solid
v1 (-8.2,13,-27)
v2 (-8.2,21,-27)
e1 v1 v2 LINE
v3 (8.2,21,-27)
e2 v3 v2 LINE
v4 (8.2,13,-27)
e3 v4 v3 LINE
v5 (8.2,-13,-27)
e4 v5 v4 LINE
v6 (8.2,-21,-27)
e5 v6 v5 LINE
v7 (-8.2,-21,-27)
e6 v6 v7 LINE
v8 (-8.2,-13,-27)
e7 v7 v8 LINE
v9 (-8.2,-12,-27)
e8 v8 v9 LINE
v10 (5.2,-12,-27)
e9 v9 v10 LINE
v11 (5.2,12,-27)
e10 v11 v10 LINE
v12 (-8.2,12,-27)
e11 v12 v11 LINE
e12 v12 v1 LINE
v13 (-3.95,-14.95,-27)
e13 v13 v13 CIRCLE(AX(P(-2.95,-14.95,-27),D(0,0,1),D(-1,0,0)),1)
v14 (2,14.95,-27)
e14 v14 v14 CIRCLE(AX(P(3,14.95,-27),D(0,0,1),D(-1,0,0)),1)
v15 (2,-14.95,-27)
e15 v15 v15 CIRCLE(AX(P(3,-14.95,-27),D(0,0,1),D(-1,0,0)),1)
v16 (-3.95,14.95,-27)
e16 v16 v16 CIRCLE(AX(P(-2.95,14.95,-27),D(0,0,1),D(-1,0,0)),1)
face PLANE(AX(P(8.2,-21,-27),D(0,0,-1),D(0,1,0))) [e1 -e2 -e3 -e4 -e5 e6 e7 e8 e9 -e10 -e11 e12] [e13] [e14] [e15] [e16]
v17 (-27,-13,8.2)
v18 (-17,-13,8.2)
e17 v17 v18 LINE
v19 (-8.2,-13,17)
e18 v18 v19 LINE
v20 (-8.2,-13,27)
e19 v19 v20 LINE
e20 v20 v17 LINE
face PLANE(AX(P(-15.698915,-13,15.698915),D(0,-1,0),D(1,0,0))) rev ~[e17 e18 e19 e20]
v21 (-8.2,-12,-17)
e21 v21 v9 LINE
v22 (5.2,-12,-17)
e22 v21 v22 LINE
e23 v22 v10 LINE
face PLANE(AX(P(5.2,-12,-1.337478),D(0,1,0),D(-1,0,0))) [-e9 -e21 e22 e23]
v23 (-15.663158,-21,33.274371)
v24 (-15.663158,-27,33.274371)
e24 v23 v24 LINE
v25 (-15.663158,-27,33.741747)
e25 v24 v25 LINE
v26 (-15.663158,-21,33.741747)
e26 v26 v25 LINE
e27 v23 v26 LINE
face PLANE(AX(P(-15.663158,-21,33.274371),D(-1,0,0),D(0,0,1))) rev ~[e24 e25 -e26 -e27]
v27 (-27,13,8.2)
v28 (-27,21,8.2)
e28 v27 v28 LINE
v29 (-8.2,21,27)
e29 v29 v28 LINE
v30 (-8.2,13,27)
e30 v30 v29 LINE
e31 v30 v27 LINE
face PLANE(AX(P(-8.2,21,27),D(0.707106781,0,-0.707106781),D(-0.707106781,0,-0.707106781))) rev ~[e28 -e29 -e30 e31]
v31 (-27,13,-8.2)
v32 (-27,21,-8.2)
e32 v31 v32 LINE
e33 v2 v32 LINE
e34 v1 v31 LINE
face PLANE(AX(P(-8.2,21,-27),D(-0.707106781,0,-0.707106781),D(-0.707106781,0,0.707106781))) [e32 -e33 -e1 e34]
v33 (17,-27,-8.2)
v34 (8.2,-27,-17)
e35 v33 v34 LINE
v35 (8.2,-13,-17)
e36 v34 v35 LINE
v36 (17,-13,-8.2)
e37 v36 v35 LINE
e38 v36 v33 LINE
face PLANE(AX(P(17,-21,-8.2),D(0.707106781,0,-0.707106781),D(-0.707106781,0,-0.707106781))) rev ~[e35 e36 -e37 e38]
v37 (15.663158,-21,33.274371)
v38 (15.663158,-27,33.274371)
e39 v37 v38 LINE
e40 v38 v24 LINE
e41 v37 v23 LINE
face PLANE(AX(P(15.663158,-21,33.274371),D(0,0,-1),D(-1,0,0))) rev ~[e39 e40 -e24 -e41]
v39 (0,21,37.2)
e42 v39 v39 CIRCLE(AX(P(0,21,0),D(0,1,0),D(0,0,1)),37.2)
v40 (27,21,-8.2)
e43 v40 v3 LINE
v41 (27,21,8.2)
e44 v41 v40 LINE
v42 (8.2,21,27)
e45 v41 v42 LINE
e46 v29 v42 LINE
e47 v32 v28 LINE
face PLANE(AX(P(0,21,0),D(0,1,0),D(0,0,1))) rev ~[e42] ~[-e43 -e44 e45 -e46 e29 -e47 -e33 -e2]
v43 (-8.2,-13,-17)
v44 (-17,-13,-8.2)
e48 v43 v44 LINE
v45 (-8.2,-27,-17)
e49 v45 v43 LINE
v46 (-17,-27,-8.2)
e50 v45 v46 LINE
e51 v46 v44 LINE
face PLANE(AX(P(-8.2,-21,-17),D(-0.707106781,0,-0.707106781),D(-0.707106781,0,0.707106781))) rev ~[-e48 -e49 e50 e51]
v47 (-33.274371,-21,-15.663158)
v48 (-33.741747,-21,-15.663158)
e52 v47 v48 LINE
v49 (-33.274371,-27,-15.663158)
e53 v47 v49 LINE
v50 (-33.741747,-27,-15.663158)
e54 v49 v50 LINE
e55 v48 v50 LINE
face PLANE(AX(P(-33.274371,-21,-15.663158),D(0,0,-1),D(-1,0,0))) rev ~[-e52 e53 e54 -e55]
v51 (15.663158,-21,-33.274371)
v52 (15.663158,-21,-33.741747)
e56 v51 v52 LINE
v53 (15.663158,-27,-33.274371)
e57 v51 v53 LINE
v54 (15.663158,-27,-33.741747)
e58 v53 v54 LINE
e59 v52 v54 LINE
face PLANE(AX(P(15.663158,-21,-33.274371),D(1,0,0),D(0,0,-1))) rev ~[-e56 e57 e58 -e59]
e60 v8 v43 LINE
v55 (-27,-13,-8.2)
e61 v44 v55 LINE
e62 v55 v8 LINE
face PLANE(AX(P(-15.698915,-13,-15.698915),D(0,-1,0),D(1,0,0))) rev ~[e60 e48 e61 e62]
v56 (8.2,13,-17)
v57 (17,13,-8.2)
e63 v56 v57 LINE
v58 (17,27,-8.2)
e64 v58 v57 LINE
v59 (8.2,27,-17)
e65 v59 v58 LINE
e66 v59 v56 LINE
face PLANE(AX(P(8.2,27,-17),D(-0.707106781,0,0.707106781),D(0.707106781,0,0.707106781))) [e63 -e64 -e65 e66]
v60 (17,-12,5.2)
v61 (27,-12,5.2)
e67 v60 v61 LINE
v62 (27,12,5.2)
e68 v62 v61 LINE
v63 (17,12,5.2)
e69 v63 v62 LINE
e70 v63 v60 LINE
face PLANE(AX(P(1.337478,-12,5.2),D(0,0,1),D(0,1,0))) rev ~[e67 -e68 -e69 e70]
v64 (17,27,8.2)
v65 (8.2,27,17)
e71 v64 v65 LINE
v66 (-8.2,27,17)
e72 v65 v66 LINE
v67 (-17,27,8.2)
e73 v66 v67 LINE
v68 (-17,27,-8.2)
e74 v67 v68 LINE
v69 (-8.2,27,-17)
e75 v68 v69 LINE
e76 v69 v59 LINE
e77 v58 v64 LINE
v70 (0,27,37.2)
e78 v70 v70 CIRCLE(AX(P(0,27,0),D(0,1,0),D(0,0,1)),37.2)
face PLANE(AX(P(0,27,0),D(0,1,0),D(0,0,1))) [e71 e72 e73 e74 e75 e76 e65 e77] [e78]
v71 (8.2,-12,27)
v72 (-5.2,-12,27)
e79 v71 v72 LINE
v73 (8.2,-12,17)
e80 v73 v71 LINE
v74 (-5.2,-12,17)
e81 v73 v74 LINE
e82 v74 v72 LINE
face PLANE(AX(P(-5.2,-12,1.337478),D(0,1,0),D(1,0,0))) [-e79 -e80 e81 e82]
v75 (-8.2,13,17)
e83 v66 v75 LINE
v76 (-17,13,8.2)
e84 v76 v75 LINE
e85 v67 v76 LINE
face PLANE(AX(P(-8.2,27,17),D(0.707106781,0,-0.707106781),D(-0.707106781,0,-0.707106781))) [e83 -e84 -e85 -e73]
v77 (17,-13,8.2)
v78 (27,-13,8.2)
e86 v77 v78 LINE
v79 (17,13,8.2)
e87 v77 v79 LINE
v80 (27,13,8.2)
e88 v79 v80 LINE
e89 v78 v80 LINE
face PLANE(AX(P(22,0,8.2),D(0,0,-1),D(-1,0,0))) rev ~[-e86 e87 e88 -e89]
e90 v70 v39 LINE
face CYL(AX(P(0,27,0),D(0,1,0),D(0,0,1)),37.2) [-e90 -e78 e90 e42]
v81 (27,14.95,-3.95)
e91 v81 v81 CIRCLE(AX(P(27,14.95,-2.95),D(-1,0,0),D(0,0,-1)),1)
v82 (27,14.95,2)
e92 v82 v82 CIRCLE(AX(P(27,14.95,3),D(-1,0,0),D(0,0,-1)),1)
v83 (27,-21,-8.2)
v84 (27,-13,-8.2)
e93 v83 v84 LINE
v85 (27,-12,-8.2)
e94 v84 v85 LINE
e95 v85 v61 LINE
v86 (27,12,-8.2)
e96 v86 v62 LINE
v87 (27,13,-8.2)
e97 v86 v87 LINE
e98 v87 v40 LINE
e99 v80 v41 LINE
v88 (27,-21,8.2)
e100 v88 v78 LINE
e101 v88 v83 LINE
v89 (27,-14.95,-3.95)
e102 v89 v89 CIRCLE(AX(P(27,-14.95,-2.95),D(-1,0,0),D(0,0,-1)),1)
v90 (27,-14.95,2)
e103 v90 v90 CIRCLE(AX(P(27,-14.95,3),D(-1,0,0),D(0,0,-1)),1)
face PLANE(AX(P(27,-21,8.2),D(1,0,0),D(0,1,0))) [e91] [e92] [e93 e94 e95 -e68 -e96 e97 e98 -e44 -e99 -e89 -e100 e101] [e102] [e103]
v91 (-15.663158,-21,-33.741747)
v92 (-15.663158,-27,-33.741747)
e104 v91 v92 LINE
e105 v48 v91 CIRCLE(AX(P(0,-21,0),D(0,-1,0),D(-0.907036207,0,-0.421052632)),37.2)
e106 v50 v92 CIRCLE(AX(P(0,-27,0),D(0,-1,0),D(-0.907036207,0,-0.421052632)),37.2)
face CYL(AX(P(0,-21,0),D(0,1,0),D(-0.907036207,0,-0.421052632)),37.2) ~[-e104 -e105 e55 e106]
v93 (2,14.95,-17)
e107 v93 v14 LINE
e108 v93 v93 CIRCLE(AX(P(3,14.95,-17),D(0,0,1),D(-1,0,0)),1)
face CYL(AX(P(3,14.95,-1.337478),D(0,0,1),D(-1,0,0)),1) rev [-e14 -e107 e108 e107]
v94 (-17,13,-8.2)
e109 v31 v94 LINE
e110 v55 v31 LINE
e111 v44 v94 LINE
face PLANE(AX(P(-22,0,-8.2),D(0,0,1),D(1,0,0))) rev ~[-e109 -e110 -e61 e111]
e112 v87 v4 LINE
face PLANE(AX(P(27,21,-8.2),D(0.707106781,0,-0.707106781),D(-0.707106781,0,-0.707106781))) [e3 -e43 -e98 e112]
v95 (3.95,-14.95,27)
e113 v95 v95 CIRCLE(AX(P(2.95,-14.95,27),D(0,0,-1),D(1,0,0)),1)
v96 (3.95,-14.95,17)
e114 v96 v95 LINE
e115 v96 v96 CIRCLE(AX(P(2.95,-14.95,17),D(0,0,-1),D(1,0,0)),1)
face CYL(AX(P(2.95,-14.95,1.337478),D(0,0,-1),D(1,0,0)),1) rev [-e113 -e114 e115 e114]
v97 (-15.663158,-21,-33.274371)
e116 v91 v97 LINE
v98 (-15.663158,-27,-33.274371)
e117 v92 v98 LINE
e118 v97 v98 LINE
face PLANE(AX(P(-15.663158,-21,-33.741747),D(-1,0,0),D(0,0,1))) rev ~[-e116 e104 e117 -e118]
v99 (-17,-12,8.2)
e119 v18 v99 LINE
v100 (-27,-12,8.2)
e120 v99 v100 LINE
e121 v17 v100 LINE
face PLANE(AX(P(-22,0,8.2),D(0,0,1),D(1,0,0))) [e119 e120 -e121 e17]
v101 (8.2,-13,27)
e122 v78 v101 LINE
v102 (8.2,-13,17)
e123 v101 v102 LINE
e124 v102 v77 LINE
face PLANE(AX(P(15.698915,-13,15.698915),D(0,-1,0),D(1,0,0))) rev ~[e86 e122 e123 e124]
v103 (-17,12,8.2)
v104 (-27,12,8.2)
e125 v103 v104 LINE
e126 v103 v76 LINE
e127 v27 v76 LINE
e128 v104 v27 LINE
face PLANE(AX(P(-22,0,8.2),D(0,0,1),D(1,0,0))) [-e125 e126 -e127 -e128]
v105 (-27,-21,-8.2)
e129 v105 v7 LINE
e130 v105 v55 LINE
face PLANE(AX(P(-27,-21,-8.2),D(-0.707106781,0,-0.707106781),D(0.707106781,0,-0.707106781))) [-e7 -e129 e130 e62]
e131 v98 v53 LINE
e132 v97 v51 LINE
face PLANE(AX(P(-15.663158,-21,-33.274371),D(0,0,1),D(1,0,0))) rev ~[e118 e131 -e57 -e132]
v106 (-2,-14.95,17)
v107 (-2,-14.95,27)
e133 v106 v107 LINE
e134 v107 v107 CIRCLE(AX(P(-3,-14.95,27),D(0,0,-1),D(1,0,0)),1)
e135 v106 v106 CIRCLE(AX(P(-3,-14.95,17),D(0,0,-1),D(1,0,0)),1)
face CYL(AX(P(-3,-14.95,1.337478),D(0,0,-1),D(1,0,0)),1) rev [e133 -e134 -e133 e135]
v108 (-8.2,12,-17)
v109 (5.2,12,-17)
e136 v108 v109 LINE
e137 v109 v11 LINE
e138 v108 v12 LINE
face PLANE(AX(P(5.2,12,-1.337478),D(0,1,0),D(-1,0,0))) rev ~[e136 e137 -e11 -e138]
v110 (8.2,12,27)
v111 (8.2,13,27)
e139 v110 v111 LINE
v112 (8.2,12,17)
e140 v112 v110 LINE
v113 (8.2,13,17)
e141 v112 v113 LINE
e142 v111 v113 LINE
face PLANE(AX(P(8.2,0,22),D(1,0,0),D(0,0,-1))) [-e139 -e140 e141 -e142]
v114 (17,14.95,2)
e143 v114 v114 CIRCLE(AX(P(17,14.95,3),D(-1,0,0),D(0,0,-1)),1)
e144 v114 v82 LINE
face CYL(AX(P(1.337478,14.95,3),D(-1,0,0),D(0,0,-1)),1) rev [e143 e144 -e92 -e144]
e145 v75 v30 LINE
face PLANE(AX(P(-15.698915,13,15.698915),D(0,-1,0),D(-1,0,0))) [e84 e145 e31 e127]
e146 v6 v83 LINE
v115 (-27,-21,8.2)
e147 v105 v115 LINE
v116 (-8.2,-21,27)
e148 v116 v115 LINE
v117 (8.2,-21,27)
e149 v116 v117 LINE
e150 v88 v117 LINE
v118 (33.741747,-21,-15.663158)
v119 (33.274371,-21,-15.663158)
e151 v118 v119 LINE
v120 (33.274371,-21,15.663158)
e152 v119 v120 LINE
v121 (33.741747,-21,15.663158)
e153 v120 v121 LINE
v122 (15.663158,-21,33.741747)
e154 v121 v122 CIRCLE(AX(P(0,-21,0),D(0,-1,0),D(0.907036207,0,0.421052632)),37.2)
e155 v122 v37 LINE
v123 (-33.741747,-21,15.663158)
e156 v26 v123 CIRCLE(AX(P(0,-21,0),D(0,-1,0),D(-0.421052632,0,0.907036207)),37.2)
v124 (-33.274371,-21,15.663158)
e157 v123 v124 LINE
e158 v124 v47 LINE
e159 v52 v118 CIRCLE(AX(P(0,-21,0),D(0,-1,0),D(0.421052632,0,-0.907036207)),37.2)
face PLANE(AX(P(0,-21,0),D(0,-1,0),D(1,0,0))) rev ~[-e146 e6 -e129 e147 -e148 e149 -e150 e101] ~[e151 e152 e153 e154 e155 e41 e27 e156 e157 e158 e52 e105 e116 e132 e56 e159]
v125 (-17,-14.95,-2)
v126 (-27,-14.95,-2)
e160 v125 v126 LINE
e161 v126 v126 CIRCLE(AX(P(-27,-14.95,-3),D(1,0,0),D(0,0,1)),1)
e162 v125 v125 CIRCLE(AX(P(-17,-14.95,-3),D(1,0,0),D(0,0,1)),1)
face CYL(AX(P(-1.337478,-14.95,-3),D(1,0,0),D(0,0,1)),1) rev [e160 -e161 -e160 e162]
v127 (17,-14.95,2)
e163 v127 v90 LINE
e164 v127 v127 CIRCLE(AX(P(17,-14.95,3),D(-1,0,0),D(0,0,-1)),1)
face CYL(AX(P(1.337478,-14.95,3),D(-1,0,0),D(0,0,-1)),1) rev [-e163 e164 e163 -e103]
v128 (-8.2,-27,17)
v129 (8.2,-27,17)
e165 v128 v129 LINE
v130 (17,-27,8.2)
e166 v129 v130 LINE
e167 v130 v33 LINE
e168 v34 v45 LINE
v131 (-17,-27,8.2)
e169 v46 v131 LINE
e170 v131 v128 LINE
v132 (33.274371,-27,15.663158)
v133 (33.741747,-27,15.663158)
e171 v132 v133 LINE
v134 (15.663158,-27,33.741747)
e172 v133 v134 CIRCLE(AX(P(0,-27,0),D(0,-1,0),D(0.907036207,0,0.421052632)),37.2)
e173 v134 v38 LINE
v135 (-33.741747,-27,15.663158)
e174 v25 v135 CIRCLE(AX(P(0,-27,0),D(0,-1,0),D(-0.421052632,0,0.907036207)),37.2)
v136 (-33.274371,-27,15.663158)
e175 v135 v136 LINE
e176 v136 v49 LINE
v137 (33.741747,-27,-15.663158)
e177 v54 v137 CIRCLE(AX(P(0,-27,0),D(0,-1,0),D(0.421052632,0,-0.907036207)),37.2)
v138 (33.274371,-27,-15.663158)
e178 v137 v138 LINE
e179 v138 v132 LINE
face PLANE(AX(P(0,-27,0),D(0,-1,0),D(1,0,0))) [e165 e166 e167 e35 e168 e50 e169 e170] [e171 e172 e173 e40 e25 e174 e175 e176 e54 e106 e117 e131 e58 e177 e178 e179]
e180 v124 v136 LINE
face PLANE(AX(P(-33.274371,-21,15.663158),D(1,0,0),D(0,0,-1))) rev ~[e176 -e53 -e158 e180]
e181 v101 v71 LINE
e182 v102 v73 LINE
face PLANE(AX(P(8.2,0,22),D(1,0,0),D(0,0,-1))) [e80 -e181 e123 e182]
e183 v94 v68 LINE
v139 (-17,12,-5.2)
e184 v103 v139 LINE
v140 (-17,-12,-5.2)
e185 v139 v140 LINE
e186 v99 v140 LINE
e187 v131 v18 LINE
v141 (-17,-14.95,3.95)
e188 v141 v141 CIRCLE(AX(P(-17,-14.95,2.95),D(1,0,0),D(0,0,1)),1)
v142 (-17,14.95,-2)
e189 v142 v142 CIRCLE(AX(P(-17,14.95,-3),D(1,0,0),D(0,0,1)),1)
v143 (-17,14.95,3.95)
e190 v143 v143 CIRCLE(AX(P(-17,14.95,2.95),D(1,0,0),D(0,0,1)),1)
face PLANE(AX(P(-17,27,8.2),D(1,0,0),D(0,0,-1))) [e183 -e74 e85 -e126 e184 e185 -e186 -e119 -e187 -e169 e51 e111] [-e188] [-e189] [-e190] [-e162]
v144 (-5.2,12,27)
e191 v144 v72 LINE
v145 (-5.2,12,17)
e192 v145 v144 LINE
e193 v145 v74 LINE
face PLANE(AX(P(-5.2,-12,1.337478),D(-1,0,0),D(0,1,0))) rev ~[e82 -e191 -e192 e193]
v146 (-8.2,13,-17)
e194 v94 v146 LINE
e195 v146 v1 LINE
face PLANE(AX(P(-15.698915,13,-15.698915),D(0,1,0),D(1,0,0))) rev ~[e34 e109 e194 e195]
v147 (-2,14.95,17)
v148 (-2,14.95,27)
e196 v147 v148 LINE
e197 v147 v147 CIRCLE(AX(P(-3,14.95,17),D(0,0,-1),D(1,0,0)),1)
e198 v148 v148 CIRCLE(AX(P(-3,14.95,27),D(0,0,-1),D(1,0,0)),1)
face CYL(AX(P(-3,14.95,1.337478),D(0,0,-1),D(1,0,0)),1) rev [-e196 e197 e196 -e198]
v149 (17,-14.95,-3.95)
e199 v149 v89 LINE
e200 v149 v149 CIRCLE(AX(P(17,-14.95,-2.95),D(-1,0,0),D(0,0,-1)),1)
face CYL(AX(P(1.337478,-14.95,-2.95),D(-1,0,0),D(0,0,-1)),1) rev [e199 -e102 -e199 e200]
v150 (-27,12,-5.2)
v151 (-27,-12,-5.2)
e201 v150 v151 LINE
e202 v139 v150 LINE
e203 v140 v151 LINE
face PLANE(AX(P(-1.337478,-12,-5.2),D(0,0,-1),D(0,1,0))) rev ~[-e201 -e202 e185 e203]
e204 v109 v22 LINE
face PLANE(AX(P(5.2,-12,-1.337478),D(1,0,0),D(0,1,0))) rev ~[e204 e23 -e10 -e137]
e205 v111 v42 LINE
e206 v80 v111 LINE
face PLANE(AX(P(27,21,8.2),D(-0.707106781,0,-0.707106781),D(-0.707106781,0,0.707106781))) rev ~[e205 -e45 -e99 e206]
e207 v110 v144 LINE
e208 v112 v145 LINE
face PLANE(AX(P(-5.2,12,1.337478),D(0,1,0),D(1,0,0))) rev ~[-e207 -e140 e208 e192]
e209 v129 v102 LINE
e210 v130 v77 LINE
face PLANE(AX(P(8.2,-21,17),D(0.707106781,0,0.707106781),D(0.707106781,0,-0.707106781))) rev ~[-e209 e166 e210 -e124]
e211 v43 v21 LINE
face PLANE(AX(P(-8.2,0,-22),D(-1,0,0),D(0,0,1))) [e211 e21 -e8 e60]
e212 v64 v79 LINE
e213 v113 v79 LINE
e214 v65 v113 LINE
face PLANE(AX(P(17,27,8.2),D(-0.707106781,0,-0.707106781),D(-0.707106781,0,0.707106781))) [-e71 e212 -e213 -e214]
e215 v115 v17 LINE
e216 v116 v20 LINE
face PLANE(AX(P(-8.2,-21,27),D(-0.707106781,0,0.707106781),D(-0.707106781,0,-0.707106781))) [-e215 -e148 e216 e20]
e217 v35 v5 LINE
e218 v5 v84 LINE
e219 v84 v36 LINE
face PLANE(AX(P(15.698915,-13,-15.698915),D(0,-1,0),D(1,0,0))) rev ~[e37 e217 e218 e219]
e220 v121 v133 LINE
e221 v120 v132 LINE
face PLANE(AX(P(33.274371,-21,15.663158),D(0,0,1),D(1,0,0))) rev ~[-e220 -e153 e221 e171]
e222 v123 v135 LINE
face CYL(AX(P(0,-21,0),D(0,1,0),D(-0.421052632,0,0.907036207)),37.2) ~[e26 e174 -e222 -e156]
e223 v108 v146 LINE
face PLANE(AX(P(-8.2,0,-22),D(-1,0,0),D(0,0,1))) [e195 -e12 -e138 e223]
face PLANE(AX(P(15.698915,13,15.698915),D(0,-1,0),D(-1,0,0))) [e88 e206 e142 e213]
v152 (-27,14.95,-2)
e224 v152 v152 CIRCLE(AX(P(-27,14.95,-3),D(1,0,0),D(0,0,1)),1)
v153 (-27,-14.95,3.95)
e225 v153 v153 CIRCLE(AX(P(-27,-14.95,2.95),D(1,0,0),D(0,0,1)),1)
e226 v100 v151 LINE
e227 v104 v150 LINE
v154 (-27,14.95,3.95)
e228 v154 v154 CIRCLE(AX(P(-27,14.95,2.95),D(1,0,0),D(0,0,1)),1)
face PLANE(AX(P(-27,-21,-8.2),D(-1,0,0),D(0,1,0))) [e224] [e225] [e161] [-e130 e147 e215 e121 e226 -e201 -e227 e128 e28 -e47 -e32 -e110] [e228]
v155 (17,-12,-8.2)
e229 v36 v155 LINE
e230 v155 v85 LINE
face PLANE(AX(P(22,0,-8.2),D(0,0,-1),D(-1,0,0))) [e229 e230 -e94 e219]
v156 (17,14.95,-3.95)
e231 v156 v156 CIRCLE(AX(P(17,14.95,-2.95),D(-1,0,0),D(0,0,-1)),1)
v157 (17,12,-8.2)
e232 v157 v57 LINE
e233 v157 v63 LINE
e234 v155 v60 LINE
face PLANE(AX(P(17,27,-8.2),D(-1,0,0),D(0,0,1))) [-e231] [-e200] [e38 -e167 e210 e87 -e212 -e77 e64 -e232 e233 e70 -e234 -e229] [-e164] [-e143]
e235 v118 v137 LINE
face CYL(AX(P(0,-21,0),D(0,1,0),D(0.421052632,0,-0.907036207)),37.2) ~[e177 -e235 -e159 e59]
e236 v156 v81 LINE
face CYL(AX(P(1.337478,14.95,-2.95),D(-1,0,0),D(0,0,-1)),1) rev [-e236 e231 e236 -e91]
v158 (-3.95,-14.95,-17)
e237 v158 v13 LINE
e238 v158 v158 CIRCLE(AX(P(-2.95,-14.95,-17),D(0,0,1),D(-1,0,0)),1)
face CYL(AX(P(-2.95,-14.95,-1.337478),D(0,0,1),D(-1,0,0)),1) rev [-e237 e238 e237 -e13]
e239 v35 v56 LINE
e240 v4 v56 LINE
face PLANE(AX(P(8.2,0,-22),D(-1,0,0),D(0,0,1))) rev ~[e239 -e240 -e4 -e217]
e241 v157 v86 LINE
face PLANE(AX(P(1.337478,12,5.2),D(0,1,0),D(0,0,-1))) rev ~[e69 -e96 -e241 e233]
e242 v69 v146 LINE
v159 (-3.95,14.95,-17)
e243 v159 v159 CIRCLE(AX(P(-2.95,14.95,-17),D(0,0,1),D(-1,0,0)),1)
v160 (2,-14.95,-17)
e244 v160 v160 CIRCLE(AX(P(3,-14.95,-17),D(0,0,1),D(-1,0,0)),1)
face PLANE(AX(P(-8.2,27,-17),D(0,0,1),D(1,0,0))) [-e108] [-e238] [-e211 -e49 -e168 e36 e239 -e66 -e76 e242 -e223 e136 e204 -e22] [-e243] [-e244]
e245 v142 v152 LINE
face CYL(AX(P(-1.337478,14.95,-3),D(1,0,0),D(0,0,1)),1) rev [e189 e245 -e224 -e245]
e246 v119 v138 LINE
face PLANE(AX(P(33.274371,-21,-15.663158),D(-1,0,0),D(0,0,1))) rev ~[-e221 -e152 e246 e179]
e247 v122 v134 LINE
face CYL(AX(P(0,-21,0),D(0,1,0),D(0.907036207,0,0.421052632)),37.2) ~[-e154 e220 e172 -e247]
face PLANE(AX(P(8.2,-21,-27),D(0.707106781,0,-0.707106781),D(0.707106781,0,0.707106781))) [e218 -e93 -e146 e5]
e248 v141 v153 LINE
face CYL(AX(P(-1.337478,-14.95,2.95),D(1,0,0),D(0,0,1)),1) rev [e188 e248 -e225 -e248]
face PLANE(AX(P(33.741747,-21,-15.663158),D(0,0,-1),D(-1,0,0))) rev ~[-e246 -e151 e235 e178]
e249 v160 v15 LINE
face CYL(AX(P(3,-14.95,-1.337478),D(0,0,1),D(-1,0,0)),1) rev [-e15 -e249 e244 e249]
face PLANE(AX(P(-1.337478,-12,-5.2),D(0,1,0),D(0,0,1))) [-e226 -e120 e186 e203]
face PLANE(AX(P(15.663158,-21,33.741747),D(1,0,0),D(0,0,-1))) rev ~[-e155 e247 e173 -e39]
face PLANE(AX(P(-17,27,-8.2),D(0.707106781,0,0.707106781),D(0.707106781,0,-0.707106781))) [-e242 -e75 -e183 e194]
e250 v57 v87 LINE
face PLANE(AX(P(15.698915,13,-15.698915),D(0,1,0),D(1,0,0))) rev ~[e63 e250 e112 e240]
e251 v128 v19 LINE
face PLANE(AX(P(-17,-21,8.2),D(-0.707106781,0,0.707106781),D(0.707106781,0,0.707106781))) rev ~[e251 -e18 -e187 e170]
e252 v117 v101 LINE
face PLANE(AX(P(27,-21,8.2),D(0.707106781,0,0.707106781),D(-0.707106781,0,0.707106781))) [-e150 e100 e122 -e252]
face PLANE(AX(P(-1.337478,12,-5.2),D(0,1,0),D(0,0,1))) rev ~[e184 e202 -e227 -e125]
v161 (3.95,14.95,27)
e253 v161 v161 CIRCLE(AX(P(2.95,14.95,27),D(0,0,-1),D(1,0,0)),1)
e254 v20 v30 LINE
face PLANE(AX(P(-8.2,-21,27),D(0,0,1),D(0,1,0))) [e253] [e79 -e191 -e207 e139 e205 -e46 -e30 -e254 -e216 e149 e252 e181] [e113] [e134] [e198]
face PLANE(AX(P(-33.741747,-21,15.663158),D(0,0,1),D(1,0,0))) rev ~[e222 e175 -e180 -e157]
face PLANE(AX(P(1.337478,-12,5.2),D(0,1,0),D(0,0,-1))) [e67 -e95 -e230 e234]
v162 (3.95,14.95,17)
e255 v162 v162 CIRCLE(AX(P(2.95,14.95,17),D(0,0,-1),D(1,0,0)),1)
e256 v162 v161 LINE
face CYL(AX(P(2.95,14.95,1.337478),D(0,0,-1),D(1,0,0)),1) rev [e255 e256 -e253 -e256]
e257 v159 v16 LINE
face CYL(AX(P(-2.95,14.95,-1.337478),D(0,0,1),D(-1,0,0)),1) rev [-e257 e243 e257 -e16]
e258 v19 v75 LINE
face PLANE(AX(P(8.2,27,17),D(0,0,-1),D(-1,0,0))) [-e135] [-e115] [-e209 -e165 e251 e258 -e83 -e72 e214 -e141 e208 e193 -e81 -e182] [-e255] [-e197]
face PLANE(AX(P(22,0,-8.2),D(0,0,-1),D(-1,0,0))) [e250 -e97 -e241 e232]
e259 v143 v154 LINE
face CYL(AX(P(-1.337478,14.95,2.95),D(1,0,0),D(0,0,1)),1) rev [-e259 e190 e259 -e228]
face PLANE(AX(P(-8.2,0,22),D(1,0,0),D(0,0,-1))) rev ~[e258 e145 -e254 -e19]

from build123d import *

# Parameters (mm, degrees)
BOSS_EXTRUDE1_DEPTH      = 8.2
BOSS_EXTRUDE1_DEPTH_BACK = 8.2
SKETCH2_W                = 10
SKETCH2_H                = 42
CUT_EXTRUDE1_DEPTH       = 25.662522174
CUT_EXTRUDE1_DEPTH_BACK  = 25.662522174
SKETCH4_R                = 1
SKETCH4_W                = 13.4
SKETCH4_H                = 24
CIRPATTERN1_COUNT        = 4
BOSS_EXTRUDE2_DEPTH      = 8
BOSS_EXTRUDE3_DEPTH      = 8
BOSS_EXTRUDE4_DEPTH      = 6
BOSS_EXTRUDE5_START      = 6
SKETCH23_R               = 37.2
BOSS_EXTRUDE5_DEPTH      = 6


with BuildPart() as part:
    # Sketch2 → Boss-Extrude1 (new, two sides: drawn at the far end of the back side and taken through both)
    with BuildSketch(Plane(origin=(0, 0, 0), x_dir=(0, 0, -1), z_dir=(1, 0, 0)).offset(-BOSS_EXTRUDE1_DEPTH_BACK)):
        with Locations((-22, 0)):
            Rectangle(SKETCH2_W, SKETCH2_H)
    extrude(amount=BOSS_EXTRUDE1_DEPTH + BOSS_EXTRUDE1_DEPTH_BACK)

    # Sketch4 → Cut-Extrude1 (cut, two sides: drawn at the far end of the back side and taken through both)
    with BuildSketch(Plane.XY.offset(27).offset(-CUT_EXTRUDE1_DEPTH_BACK)):
        with Locations((-3, 14.95)):
            Circle(SKETCH4_R)
        with Locations((2.95, 14.95)):
            Circle(SKETCH4_R)
        with Locations((-3, -14.95)):
            Circle(SKETCH4_R)
        with Locations((2.95, -14.95)):
            Circle(SKETCH4_R)
        with Locations((1.5, 0)):
            Rectangle(SKETCH4_W, SKETCH4_H)
    extrude(amount=CUT_EXTRUDE1_DEPTH + CUT_EXTRUDE1_DEPTH_BACK, mode=Mode.SUBTRACT)


with BuildPart() as cirpattern1_1:
    # CirPattern1: pattern copy
    add(part.part.rotate(Axis((0, 12.69022869, 0), (0, -1, 0)), 1 * 360 / CIRPATTERN1_COUNT))


with BuildPart() as cirpattern1_2:
    # CirPattern1: pattern copy
    add(part.part.rotate(Axis((0, 12.69022869, 0), (0, -1, 0)), 2 * 360 / CIRPATTERN1_COUNT))


with BuildPart() as cirpattern1_3:
    # CirPattern1: pattern copy
    add(part.part.rotate(Axis((0, 12.69022869, 0), (0, -1, 0)), 3 * 360 / CIRPATTERN1_COUNT))


with BuildPart() as part_1:
    add(part.part)

    add(cirpattern1_1.part)  # Boss-Extrude2 merges CirPattern1_1

    add(cirpattern1_2.part)  # Boss-Extrude2 merges CirPattern1_2

    add(cirpattern1_3.part)  # Boss-Extrude2 merges CirPattern1_3
    # Sketch20 → Boss-Extrude2 (add)
    with BuildSketch(Plane(origin=(0, 21, 0), x_dir=(1, 0, 0), z_dir=(0, 1, 0))):
        Polygon((-17, 8.2), (-8.2, 17), (-8.2, 27), (-27, 8.2), align=None)
        Polygon((-17, -8.2), (-8.2, -17), (-8.2, -27), (-27, -8.2), align=None)
        Polygon((8.2, -17), (17, -8.2), (27, -8.2), (8.2, -27), align=None)
        Polygon((8.2, 17), (17, 8.2), (27, 8.2), (8.2, 27), align=None)
    extrude(amount=-BOSS_EXTRUDE2_DEPTH)

    # Sketch21 → Boss-Extrude3 (add)
    with BuildSketch(Plane.XZ.offset(21)):
        Polygon((-17, 8.2), (-8.2, 17), (-8.2, 27), (-27, 8.2), align=None)
        Polygon((17, -8.2), (8.2, -17), (8.2, -27), (27, -8.2), align=None)
        Polygon((-8.2, -17), (-17, -8.2), (-27, -8.2), (-8.2, -27), align=None)
        Polygon((8.2, 17), (17, 8.2), (27, 8.2), (8.2, 27), align=None)
    extrude(amount=-BOSS_EXTRUDE3_DEPTH)

    # Sketch22 → Boss-Extrude4 (add)
    with BuildSketch(Plane.XZ.offset(21)):
        with BuildLine():
            ThreePointArc((-15.663157895, 33.741746913), (-26.30437226, 26.30437226), (-33.741746913, 15.663157895))
            Line((-33.741746913, 15.663157895), (-33.274371034, 15.663157895))
            Line((-33.274371034, 15.663157895), (-33.274371034, -15.663157895))
            Line((-33.274371034, -15.663157895), (-33.741746913, -15.663157895))
            ThreePointArc((-33.741746913, -15.663157895), (-26.30437226, -26.30437226), (-15.663157895, -33.741746913))
            Line((-15.663157895, -33.741746913), (-15.663157895, -33.274371034))
            Line((-15.663157895, -33.274371034), (15.663157895, -33.274371034))
            Line((15.663157895, -33.274371034), (15.663157895, -33.741746913))
            ThreePointArc((15.663157895, -33.741746913), (26.30437226, -26.30437226), (33.741746913, -15.663157895))
            Line((33.741746913, -15.663157895), (33.274371034, -15.663157895))
            Line((33.274371034, -15.663157895), (33.274371034, 15.663157895))
            Line((33.274371034, 15.663157895), (33.741746913, 15.663157895))
            ThreePointArc((33.741746913, 15.663157895), (26.30437226, 26.30437226), (15.663157895, 33.741746913))
            Line((15.663157895, 33.741746913), (15.663157895, 33.274371034))
            Line((15.663157895, 33.274371034), (-15.663157895, 33.274371034))
            Line((-15.663157895, 33.274371034), (-15.663157895, 33.741746913))
        make_face()
        Polygon((-17, -8.2), (-17, 8.2), (-8.2, 17), (8.2, 17), (17, 8.2), (17, -8.2), (8.2, -17), (-8.2, -17), align=None, mode=Mode.SUBTRACT)
    extrude(amount=BOSS_EXTRUDE4_DEPTH)

    # Sketch23 → Boss-Extrude5 (add)
    with BuildSketch(Plane(origin=(0, 21, 0), x_dir=(1, 0, 0), z_dir=(0, 1, 0)).offset(BOSS_EXTRUDE5_START)):
        Circle(SKETCH23_R)
        Polygon((-17, 8.2), (-8.2, 17), (8.2, 17), (17, 8.2), (17, -8.2), (8.2, -17), (-8.2, -17), (-17, -8.2), align=None, mode=Mode.SUBTRACT)
    extrude(amount=-BOSS_EXTRUDE5_DEPTH)


solid = part_1.part
